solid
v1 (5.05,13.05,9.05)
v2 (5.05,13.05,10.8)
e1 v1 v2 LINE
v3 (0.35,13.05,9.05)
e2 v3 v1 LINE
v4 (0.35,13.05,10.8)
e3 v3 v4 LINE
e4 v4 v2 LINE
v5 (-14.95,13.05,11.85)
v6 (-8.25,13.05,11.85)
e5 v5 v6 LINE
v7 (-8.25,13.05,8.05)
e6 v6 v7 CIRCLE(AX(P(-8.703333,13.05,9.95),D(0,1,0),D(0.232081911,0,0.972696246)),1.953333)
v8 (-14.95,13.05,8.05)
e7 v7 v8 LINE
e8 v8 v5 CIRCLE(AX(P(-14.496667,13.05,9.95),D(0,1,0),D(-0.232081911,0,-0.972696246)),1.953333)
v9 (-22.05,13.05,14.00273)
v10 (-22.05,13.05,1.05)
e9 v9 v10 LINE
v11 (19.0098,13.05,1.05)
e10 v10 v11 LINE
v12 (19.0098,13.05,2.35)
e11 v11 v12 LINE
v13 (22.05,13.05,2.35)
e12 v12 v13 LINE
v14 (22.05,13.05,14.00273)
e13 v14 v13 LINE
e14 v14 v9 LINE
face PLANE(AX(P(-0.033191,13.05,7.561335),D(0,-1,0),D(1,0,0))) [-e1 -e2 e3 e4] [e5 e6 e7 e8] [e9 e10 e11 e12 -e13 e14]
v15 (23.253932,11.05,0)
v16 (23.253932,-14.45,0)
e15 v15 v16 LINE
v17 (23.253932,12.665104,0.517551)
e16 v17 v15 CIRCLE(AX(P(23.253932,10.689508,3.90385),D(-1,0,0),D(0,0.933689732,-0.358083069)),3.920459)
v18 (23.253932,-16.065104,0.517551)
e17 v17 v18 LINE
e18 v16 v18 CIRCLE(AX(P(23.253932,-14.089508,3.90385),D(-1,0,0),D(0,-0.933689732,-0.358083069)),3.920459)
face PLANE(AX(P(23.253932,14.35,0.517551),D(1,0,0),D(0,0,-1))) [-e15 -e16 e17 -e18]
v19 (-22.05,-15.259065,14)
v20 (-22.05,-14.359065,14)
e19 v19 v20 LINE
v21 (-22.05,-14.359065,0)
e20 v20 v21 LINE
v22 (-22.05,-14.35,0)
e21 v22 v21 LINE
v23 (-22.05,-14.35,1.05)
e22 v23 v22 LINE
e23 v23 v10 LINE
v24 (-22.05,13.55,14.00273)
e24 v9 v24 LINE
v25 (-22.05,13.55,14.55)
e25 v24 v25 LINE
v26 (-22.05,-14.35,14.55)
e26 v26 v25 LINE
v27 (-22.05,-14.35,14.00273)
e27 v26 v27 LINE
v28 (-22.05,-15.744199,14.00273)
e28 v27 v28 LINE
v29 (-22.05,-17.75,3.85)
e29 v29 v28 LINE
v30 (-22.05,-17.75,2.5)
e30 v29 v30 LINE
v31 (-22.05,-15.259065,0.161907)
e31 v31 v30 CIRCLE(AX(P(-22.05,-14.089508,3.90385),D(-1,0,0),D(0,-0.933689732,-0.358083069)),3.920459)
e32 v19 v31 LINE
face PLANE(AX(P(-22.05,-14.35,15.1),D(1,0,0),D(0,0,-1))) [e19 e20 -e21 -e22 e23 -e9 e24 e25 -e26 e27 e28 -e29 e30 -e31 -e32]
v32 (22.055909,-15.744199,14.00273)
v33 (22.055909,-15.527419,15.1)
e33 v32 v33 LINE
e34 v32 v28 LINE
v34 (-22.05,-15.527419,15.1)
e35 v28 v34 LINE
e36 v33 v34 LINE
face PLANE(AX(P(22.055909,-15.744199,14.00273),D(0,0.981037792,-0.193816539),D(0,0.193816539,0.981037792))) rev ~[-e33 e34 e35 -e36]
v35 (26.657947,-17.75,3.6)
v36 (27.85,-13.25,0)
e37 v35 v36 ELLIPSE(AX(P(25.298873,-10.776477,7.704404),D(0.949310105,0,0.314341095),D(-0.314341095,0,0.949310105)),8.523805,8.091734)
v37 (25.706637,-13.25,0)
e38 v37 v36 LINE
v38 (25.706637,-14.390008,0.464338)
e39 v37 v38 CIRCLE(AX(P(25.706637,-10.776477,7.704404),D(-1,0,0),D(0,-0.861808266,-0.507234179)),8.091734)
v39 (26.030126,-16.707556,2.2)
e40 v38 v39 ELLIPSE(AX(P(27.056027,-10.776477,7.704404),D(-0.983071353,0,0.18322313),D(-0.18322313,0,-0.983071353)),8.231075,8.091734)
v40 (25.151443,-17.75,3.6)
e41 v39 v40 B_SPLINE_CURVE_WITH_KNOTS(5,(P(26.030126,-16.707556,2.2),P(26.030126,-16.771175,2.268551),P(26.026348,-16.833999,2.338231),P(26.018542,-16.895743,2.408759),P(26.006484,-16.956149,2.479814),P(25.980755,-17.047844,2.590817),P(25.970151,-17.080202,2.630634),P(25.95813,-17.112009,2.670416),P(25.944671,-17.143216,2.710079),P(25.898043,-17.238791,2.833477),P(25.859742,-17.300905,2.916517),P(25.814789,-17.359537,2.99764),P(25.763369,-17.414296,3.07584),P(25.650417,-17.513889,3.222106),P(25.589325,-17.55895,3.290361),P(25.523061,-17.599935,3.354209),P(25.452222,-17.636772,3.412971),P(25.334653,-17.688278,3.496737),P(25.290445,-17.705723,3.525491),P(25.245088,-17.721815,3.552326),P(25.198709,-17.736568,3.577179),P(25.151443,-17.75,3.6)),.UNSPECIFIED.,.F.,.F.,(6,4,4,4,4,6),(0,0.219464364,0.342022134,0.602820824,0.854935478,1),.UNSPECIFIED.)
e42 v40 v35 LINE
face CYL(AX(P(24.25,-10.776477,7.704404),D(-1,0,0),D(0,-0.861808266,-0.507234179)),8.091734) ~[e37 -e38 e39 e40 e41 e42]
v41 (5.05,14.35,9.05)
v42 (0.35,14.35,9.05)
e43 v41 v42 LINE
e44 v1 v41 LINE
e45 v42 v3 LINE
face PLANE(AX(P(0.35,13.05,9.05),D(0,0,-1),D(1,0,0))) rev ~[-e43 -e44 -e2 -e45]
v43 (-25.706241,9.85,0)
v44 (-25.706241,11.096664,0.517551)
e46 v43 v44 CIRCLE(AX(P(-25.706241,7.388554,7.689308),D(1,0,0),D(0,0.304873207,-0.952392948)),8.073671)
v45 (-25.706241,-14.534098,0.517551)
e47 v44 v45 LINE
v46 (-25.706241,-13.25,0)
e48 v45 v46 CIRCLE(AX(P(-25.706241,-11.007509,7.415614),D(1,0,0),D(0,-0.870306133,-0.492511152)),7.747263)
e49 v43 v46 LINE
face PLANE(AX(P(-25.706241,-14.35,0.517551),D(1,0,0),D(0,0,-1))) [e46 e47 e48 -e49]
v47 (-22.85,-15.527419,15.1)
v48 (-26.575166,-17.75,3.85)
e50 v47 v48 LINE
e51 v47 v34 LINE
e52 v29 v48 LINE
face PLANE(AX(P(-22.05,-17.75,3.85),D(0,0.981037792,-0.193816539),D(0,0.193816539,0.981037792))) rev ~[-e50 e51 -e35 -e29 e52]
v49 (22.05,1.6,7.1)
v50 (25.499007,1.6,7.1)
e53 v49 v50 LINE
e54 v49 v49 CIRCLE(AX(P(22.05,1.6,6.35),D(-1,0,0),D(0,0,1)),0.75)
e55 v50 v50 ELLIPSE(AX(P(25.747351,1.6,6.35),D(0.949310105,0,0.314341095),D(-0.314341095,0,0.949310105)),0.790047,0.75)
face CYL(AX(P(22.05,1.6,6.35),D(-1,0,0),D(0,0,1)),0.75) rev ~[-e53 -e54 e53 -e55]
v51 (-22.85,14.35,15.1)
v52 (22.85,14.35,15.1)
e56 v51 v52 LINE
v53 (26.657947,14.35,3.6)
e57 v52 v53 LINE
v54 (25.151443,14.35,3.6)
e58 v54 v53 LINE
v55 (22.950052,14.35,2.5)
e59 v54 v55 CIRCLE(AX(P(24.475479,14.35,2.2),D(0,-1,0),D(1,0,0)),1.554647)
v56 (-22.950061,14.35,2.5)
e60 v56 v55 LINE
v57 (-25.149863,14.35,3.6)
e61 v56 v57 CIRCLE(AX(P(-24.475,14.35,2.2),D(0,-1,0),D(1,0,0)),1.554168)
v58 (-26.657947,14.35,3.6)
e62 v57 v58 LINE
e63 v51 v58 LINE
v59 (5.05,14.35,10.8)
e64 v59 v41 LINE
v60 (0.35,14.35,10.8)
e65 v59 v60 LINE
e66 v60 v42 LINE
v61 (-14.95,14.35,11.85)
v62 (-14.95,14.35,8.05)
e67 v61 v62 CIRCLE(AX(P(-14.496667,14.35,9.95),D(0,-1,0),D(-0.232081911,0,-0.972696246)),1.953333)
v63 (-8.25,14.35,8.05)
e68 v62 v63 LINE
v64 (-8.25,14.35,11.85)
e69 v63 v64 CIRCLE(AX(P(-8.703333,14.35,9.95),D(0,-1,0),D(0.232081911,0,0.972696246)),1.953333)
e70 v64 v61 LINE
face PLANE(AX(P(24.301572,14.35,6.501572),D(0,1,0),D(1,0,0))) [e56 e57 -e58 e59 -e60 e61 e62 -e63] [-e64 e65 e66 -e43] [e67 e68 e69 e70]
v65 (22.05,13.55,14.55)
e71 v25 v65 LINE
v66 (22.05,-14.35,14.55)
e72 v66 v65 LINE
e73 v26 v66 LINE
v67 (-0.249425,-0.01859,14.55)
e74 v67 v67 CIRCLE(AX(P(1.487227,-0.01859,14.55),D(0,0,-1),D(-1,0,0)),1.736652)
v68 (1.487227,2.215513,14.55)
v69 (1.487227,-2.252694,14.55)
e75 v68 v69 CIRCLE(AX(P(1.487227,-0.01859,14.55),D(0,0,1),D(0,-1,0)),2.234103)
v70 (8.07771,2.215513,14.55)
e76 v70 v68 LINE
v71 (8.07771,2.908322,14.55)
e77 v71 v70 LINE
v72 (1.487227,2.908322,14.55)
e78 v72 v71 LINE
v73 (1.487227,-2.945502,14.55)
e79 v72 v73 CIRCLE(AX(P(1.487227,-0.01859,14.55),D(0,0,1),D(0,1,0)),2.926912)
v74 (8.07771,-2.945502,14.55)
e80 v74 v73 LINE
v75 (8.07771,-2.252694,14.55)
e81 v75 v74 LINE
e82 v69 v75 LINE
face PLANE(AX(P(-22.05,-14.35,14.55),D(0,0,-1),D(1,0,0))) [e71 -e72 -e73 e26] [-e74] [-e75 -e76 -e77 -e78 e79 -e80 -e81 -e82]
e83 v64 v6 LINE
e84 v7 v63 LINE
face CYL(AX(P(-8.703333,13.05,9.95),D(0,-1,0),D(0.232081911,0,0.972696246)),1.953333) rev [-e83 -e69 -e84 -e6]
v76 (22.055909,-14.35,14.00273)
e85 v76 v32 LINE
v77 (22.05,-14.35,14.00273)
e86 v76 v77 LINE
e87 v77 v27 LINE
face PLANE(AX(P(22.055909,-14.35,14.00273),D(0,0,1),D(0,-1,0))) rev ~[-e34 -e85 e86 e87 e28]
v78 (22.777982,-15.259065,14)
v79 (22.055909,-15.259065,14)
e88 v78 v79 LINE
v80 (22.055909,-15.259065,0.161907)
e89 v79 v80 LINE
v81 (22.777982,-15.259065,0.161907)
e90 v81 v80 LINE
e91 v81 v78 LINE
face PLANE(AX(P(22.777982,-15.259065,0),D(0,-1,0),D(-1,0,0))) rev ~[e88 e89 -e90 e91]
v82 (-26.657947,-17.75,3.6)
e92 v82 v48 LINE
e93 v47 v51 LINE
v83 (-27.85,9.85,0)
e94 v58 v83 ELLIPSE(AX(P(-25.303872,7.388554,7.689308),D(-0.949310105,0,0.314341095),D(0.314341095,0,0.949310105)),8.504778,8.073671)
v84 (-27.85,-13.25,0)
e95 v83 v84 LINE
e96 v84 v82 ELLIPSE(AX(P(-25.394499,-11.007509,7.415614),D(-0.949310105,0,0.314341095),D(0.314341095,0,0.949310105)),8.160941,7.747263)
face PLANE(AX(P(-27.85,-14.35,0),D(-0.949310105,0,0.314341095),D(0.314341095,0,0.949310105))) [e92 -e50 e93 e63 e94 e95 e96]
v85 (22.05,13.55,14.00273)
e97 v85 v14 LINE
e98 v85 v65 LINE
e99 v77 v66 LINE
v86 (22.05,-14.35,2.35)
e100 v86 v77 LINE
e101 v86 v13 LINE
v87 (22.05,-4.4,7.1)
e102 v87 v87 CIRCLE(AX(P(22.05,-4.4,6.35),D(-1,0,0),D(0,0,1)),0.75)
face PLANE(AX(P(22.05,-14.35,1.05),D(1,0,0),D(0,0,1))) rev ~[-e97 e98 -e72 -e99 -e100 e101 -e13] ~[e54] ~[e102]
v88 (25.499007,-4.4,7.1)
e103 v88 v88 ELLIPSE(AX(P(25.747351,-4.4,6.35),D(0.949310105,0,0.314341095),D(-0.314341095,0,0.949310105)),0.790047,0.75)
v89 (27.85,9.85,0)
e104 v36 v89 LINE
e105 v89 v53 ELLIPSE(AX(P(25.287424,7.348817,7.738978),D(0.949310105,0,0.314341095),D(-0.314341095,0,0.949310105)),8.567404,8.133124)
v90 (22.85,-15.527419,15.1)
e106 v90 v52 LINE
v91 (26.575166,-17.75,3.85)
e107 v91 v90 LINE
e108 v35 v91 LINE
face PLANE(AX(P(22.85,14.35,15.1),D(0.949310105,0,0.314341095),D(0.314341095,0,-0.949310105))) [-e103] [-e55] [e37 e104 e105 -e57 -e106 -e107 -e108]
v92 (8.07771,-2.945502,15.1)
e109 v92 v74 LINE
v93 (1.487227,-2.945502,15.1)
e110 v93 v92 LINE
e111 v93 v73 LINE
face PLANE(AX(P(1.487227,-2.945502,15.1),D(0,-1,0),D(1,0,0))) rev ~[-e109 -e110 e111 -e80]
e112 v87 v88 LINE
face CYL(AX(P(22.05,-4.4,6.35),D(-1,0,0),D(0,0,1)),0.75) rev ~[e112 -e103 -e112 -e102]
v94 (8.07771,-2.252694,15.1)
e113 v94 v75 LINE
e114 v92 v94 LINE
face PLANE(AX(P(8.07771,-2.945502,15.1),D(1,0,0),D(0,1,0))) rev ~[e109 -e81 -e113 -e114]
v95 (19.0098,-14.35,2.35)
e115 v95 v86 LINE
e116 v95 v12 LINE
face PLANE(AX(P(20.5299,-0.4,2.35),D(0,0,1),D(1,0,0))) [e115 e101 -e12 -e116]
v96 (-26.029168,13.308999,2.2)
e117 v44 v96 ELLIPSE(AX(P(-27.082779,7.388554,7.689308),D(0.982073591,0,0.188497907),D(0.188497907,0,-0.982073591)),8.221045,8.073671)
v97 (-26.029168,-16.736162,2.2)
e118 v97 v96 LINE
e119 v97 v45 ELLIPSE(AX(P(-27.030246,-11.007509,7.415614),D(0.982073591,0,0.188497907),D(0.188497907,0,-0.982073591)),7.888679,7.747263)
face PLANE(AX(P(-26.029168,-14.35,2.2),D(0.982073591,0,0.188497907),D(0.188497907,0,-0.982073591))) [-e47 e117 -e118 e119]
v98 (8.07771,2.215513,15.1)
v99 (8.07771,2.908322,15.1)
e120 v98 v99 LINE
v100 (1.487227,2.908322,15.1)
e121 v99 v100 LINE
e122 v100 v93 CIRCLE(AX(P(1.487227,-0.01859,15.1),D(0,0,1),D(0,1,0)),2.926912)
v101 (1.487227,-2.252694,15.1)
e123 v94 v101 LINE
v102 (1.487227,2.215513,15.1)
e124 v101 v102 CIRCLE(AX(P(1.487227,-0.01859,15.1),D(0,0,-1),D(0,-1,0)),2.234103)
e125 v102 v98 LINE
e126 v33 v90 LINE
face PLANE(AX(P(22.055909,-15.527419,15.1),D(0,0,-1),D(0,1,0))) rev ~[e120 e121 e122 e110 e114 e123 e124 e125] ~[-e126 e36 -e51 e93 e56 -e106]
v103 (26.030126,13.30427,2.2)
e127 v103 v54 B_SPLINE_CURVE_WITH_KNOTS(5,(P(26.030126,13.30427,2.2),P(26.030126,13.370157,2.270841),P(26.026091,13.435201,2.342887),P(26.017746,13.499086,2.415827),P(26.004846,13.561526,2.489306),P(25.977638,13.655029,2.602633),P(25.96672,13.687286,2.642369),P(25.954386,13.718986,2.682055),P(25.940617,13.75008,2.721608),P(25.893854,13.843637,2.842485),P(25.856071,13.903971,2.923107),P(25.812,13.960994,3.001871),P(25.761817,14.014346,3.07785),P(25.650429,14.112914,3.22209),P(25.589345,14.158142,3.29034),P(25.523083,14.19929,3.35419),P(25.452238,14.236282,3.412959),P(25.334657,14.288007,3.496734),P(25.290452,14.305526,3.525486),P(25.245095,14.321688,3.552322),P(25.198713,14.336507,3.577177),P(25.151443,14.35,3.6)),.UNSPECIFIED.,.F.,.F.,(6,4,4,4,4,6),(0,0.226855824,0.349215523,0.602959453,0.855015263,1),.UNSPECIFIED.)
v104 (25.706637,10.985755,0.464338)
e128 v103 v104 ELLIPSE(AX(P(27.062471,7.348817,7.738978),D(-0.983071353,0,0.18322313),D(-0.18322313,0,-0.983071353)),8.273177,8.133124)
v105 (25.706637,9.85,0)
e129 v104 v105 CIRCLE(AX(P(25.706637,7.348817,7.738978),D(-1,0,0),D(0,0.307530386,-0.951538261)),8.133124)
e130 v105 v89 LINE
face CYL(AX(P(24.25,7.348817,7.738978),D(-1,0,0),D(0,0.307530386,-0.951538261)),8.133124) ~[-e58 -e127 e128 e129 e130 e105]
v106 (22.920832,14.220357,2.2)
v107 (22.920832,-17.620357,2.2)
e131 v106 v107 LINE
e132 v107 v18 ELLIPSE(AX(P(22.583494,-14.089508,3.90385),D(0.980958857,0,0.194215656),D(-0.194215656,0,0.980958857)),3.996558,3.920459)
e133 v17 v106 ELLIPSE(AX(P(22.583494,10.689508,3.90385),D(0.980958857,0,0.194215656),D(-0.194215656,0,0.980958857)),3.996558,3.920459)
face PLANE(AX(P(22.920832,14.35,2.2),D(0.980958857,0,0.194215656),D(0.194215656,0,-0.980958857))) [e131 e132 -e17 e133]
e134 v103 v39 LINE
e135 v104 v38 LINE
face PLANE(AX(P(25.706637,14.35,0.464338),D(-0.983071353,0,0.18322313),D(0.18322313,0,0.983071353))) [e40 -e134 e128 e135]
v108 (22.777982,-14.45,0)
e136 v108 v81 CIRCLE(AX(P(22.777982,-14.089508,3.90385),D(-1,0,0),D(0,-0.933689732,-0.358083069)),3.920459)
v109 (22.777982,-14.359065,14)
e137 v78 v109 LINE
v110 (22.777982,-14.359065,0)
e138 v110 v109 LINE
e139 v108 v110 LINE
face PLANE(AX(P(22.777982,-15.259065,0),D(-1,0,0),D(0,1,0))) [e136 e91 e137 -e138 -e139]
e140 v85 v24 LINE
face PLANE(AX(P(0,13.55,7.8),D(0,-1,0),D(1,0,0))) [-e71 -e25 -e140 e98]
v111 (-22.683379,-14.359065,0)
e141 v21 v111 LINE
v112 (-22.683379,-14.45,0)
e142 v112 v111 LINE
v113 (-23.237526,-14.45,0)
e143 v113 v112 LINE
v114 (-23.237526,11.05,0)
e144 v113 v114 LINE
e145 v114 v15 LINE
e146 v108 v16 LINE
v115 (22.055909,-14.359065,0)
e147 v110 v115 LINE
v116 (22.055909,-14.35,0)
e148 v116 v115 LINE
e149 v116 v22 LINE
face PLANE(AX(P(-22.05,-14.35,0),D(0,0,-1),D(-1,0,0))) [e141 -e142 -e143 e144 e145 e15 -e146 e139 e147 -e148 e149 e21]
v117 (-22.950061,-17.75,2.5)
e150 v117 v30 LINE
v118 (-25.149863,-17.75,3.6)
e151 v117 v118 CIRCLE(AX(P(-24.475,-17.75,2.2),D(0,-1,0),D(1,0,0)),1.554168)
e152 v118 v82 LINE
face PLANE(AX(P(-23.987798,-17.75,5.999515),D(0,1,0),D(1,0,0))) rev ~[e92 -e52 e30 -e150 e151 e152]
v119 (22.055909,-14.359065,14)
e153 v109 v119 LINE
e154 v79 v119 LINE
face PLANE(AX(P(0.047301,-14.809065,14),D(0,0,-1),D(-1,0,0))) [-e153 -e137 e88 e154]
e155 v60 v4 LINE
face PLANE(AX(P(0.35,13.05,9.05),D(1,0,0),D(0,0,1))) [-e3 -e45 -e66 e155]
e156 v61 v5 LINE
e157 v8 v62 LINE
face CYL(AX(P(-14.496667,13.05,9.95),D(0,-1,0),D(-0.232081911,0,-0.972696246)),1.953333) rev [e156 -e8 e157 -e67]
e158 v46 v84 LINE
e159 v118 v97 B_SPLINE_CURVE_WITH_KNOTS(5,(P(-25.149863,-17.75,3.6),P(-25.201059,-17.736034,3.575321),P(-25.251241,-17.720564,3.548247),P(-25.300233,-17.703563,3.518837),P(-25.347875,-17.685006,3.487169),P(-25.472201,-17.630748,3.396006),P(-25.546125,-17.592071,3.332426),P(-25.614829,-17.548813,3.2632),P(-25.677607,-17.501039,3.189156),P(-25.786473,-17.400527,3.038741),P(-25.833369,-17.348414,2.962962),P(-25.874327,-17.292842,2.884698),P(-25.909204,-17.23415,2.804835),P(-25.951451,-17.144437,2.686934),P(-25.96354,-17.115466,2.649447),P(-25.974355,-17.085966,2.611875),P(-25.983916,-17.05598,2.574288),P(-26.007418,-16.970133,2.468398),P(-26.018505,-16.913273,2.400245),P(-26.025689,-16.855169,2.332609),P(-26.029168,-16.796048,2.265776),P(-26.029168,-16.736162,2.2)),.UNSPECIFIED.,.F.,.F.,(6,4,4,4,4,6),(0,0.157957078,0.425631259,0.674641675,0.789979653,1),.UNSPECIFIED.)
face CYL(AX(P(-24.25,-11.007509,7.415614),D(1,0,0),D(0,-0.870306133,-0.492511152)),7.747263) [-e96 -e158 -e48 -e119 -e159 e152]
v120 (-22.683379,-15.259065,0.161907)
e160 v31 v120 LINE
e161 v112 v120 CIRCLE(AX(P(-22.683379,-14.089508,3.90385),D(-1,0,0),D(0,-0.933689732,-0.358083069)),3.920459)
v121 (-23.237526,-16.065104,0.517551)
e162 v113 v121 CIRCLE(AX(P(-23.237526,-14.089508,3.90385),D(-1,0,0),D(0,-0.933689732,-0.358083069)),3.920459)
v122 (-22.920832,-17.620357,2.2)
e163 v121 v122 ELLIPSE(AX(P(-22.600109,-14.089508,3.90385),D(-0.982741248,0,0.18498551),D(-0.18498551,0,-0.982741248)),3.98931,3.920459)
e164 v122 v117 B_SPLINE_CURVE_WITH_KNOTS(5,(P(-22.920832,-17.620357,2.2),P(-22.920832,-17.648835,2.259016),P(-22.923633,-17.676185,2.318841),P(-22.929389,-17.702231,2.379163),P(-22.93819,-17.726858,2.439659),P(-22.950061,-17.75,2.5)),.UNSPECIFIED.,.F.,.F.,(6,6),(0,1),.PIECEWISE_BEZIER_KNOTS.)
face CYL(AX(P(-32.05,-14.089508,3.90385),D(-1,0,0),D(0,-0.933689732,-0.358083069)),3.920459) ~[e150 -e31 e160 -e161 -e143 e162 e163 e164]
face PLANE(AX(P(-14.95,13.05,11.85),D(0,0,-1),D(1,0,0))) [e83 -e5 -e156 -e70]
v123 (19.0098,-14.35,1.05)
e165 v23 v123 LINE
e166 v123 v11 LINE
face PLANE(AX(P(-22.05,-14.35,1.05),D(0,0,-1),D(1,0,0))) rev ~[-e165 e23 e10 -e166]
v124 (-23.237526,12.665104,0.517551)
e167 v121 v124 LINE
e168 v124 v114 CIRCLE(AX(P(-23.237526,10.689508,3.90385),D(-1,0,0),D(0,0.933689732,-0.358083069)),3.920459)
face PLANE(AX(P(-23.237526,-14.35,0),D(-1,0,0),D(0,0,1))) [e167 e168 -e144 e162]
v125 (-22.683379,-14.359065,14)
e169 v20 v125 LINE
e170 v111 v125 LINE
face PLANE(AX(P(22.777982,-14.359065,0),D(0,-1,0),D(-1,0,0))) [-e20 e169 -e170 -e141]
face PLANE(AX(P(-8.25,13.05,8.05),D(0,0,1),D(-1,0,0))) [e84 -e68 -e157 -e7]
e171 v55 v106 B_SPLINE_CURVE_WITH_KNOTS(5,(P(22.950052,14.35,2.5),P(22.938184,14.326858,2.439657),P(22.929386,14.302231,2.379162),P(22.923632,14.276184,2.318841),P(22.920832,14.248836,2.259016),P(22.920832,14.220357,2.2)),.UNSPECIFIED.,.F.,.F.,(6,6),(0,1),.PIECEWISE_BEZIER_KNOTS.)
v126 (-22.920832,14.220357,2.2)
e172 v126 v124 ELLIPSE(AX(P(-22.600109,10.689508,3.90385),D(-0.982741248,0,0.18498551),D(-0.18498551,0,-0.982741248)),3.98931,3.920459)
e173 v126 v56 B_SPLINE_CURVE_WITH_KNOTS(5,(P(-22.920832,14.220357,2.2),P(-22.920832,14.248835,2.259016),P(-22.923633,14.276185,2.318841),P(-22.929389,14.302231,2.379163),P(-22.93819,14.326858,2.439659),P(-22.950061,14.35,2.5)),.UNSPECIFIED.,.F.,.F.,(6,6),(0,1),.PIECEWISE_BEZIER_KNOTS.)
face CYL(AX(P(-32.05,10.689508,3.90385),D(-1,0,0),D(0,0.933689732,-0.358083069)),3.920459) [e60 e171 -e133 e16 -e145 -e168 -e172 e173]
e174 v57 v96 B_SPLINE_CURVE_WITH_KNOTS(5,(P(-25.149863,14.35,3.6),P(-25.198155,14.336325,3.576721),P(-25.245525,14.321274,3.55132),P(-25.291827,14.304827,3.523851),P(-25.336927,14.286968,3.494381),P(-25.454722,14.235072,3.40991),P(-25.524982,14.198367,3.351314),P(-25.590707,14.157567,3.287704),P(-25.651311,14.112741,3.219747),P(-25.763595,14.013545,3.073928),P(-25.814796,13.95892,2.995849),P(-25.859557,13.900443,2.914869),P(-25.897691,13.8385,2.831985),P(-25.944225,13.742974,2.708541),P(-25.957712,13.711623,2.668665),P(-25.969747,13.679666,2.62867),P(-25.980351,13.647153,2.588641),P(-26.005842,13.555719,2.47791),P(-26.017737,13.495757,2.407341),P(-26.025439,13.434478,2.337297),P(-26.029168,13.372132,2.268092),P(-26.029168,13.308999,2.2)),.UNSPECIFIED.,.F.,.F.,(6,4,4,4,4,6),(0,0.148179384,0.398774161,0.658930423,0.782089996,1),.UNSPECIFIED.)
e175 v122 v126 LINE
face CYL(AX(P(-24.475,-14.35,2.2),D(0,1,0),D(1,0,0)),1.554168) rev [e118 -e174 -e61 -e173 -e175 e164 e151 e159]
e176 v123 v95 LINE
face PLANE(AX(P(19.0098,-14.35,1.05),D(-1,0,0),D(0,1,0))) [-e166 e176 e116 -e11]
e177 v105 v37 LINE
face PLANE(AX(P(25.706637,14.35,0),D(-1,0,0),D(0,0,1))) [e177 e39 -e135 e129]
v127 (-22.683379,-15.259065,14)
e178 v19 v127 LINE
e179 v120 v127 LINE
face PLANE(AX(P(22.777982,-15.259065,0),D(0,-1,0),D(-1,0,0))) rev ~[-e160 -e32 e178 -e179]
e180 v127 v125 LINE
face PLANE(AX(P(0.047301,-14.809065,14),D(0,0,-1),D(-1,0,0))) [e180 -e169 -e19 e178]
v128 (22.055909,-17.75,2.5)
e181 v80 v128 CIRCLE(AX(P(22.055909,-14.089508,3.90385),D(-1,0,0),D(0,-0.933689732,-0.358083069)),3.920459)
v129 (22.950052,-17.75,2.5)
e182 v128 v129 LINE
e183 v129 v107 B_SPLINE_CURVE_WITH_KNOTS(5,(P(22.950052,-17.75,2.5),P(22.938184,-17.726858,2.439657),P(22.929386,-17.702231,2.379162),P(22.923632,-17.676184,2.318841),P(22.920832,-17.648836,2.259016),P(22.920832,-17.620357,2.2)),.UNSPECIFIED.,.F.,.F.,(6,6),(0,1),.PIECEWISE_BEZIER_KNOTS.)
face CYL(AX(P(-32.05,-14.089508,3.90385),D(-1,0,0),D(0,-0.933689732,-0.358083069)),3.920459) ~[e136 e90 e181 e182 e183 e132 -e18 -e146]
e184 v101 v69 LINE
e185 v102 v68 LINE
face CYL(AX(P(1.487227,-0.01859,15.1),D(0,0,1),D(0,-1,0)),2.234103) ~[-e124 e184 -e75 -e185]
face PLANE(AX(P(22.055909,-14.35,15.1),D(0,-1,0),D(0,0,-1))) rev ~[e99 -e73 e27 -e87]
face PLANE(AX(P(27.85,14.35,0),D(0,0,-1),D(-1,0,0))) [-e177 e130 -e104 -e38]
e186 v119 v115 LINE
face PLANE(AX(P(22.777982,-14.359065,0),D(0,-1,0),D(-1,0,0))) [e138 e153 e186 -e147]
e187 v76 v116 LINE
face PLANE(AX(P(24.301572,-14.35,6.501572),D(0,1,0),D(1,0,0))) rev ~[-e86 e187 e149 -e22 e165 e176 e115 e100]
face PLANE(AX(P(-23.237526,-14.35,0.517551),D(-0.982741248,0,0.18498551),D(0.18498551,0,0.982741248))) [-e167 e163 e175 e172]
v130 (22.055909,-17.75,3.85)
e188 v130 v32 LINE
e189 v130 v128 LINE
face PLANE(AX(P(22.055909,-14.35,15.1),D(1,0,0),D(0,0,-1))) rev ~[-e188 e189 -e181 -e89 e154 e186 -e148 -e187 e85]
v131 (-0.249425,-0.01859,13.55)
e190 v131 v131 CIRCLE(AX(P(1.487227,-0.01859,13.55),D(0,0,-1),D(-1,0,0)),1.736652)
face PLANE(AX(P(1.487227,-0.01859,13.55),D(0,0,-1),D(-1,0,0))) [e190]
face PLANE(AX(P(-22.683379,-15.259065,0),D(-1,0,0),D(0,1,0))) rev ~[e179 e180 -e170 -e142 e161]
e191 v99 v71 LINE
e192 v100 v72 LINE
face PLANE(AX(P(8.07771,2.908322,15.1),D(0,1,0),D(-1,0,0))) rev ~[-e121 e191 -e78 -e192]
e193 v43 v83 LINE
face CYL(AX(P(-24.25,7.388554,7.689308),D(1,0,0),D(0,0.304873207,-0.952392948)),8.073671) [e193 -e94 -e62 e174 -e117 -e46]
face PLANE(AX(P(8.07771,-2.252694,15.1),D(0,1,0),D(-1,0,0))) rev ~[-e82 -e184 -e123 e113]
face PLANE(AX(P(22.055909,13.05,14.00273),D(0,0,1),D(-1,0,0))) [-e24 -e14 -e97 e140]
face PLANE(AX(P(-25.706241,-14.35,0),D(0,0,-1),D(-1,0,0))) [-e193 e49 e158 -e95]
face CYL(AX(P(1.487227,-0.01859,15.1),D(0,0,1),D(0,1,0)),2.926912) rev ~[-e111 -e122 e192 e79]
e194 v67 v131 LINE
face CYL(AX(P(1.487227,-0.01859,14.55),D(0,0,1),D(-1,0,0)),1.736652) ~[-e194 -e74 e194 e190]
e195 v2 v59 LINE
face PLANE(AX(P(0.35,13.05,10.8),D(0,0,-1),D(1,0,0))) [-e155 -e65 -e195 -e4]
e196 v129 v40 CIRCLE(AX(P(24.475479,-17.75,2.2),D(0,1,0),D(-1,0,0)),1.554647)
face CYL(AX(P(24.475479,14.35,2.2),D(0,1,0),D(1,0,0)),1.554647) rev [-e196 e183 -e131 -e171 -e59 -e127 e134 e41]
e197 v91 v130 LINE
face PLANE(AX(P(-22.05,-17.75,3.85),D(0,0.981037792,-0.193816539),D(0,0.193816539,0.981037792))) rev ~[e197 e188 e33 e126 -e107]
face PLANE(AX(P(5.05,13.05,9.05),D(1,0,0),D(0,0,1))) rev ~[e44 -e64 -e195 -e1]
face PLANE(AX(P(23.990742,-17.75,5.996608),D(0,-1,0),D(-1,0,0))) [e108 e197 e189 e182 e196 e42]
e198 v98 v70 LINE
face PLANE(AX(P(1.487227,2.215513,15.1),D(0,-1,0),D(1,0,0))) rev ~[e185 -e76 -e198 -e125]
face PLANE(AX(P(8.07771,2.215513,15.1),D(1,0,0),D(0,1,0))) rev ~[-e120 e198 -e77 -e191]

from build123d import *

# Parameters (mm, degrees)
ESQUISSE1_W              = 45.7
ESQUISSE1_H              = 28.7
BOSS_EXTRU_1_DEPTH       = 15.1
ESQUISSE2_W              = 44.1
ESQUISSE2_H              = 13.5
ENL_V_MAT_EXTRU_1_DEPTH  = 27.9
ESQUISSE3_W              = 3.040200108
ESQUISSE3_H              = 27.9
BOSS_EXTRU_2_DEPTH       = 1.3
ENL_V_MAT_EXTRU_2_DEPTH  = 1.3
ESQUISSE5_R              = 1.73665182
BOSS_EXTRU_3_DEPTH       = 1
ESQUISSE6_W              = 4.7
ESQUISSE6_H              = 1.75
ENL_V_MAT_EXTRU_3_DEPTH  = 10.5
ENL_V_MAT_EXTRU_4_DEPTH  = 10.5
BOSS_EXTRU_5_DEPTH       = 28.7
ENL_V_MAT_EXTRU_6_DEPTH  = 28.7
BOSS_EXTRU_7_DEPTH       = 3.4
ESQUISSE25_W             = 45.461360866
ESQUISSE25_H             = 0.9
ENL_V_MAT_EXTRU_14_DEPTH = 14
ENL_V_MAT_EXTRU_15_DEPTH = 57
BOSS_EXTRU_9_DEPTH       = 44.3
ESQUISSE32_R             = 0.75
ENL_V_MAT_EXTRU_17_DEPTH = 44.3
BOSS_EXTRU_10_START      = 0.5
ESQUISSE35_W             = 4.7
ESQUISSE35_H             = 1.75
BOSS_EXTRU_10_DEPTH      = 0.5
ENL_V_START              = -10
ENL_V_MAT_EXTRU_19_DEPTH = 74.3
ENL_V_START_2            = -2.2
ENL_V_MAT_EXTRU_20_DEPTH = 5
ENL_V_MAT_EXTRU_21_DEPTH = 5


with BuildPart() as part:
    # Esquisse1 → Boss.-Extru.1 (new body)
    with BuildSketch(Plane.XY):
        Rectangle(ESQUISSE1_W, ESQUISSE1_H)
    extrude(amount=BOSS_EXTRU_1_DEPTH)

    # Esquisse2 → Enlèv. mat.-Extru.1 (cut)
    with BuildSketch(Plane.XZ.offset(14.35)):
        with Locations((0, 7.8)):
            Rectangle(ESQUISSE2_W, ESQUISSE2_H)
    extrude(amount=-ENL_V_MAT_EXTRU_1_DEPTH, mode=Mode.SUBTRACT)

    # Esquisse3 → Boss.-Extru.2 (add)
    with BuildSketch(Plane.XY.offset(1.05)):
        with Locations((20.529899946, -0.4)):
            Rectangle(ESQUISSE3_W, ESQUISSE3_H)
    extrude(amount=BOSS_EXTRU_2_DEPTH)

    # Esquisse4 → Enlèv. mat.-Extru.2 (cut)
    with BuildSketch(Plane.XY.offset(15.1)):
        with BuildLine():
            Line((1.487226604, 2.215512883), (8.077709912, 2.215512883))
            Line((8.077709912, 2.215512883), (8.077709912, 2.908321808))
            Line((8.077709912, 2.908321808), (1.487226604, 2.908321808))
            ThreePointArc((1.487226604, 2.908321808), (-1.439685537, -0.018590333), (1.487226604, -2.945502474))
            Line((1.487226604, -2.945502474), (8.077709912, -2.945502474))
            Line((8.077709912, -2.945502474), (8.077709912, -2.252693548))
            Line((8.077709912, -2.252693548), (1.487226604, -2.252693548))
            ThreePointArc((1.487226604, -2.252693548), (-0.746876612, -0.018590333), (1.487226604, 2.215512883))
        make_face()
    extrude(amount=-ENL_V_MAT_EXTRU_2_DEPTH, mode=Mode.SUBTRACT)

    # Esquisse5 → Boss.-Extru.3 (add)
    with BuildSketch(Plane(origin=(0, 0, 14.55), x_dir=(-1, 0, 0), z_dir=(0, 0, -1))):
        with Locations((-1.487226604, -0.018590333)):
            Circle(ESQUISSE5_R)
    extrude(amount=BOSS_EXTRU_3_DEPTH)

    # Esquisse6 → Enlèv. mat.-Extru.3 (cut)
    with BuildSketch(Plane.XZ.offset(-13.55)):
        with Locations((2.7, 9.925)):
            Rectangle(ESQUISSE6_W, ESQUISSE6_H)
    extrude(amount=-ENL_V_MAT_EXTRU_3_DEPTH, mode=Mode.SUBTRACT)

    # Esquisse7 → Enlèv. mat.-Extru.4 (cut)
    with BuildSketch(Plane.XZ.offset(-13.55)):
        with BuildLine():
            Line((-14.95, 11.85), (-8.25, 11.85))
            ThreePointArc((-8.25, 11.85), (-6.75, 9.95), (-8.25, 8.05))
            Line((-8.25, 8.05), (-14.95, 8.05))
            ThreePointArc((-14.95, 8.05), (-16.45, 9.95), (-14.95, 11.85))
        make_face()
    extrude(amount=-ENL_V_MAT_EXTRU_4_DEPTH, mode=Mode.SUBTRACT)

    # Esquisse9 → Boss.-Extru.5 (add)
    with BuildSketch(Plane(origin=(0, 14.35, 0), x_dir=(1, 0, 0), z_dir=(0, 1, 0))):
        Polygon((22.85, 0), (22.85, -15.1), (27.85, 0), align=None)
        Polygon((-22.85, 0), (-22.85, -15.1), (-27.85, 0), align=None)
    extrude(amount=-BOSS_EXTRU_5_DEPTH)

    # Esquisse11 → Enlèv. mat.-Extru.6 (cut)
    with BuildSketch(Plane(origin=(0, 14.35, 0), x_dir=(1, 0, 0), z_dir=(0, 1, 0))):
        with BuildLine():
            Line((-25.706241432, 0), (-23.237525969, 0))
            Line((-23.237525969, 0), (-23.237525969, -0.517551291))
            Line((-23.237525969, -0.517551291), (-22.920831586, -2.2))
            ThreePointArc((-22.920831586, -2.2), (-24.475, -3.754168414), (-26.029168414, -2.2))
            Line((-26.029168414, -2.2), (-25.706241432, -0.517551291))
            Line((-25.706241432, -0.517551291), (-25.706241432, 0))
        make_face()
        with BuildLine():
            Line((23.253932079, 0), (25.706636502, 0))
            Line((25.706636502, 0), (25.706636502, -0.464338322))
            Line((25.706636502, -0.464338322), (26.030126108, -2.2))
            ThreePointArc((26.030126108, -2.2), (24.475478847, -3.754647261), (22.920831586, -2.2))
            Line((22.920831586, -2.2), (23.253932079, -0.517551291))
            Line((23.253932079, -0.517551291), (23.253932079, 0))
        make_face()
    extrude(amount=-ENL_V_MAT_EXTRU_6_DEPTH, mode=Mode.SUBTRACT)

    # Esquisse17 → Boss.-Extru.7 (add)
    with BuildSketch(Plane(origin=(0, -14.35, 0), x_dir=(-1, 0, 0), z_dir=(0, -1, 0))):
        with BuildLine():
            Line((27.85, 0), (22.85, -15.1))
            Line((22.85, -15.1), (22.05, -15.1))
            Line((22.05, -15.1), (22.05, -1.05))
            Line((22.05, -1.05), (22.05, 0))
            Line((22.05, 0), (23.237525969, 0))
            Line((23.237525969, 0), (23.237525969, -0.517551291))
            Line((23.237525969, -0.517551291), (22.920831586, -2.2))
            ThreePointArc((22.920831586, -2.2), (24.475, -3.754168414), (26.029168414, -2.2))
            Line((26.029168414, -2.2), (25.706241432, -0.517551291))
            Line((25.706241432, -0.517551291), (25.706241432, 0))
            Line((25.706241432, 0), (27.85, 0))
        make_face()
        with BuildLine():
            Line((-27.85, 0), (-22.85, -15.1))
            Line((-22.85, -15.1), (-22.055908753, -15.1))
            Line((-22.055908753, -15.1), (-22.055908753, 0))
            Line((-22.055908753, 0), (-23.253932079, 0))
            Line((-23.253932079, 0), (-23.253932079, -0.517551291))
            Line((-23.253932079, -0.517551291), (-22.920831586, -2.2))
            ThreePointArc((-22.920831586, -2.2), (-24.475478847, -3.754647261), (-26.030126108, -2.2))
            Line((-26.030126108, -2.2), (-25.706636502, -0.464338322))
            Line((-25.706636502, -0.464338322), (-25.706636502, 0))
            Line((-25.706636502, 0), (-27.85, 0))
        make_face()
    extrude(amount=BOSS_EXTRU_7_DEPTH)

    # Esquisse25 → Enlèv. mat.-Extru.14 (cut)
    with BuildSketch(Plane(origin=(0, 0, 0), x_dir=(-1, 0, 0), z_dir=(0, 0, -1))):
        with Locations((-0.047301347, -14.809065101)):
            Rectangle(ESQUISSE25_W, ESQUISSE25_H)
    extrude(amount=-ENL_V_MAT_EXTRU_14_DEPTH, mode=Mode.SUBTRACT)

    # Esquisse26 → Enlèv. mat.-Extru.15 (cut, symmetric)
    with BuildSketch(Plane(origin=(-22.05, 0, 0), x_dir=(0, 0, -1), z_dir=(1, 0, 0))):
        Polygon((-3.85, -17.75), (-15.1, -15.527418892), (-15.1, -17.75), align=None)
    extrude(amount=ENL_V_MAT_EXTRU_15_DEPTH, both=True, mode=Mode.SUBTRACT)

    # Esquisse31 → Boss.-Extru.9 (add)
    with BuildSketch(Plane.ZY.offset(-22.055908753)):
        Polygon((14.002730008, -14.35), (14.002730008, -15.744198586), (15.1, -15.527418892), (15.1, -14.35), align=None)
    extrude(amount=BOSS_EXTRU_9_DEPTH)

    # Esquisse32 → Enlèv. mat.-Extru.17 (cut)
    with BuildSketch(Plane.ZY.offset(-22.05)):
        with Locations((6.35, 1.6)):
            Circle(ESQUISSE32_R)
        with Locations((6.35, -4.4)):
            Circle(ESQUISSE32_R)
    extrude(amount=-ENL_V_MAT_EXTRU_17_DEPTH, mode=Mode.SUBTRACT)

    # Esquisse35 → Boss.-Extru.10 (add)
    with BuildSketch(Plane.XZ.offset(-13.55).offset(BOSS_EXTRU_10_START)):
        Polygon((-22.05, 14.002730008), (-22.05, 1.05), (19.009799892, 1.05), (19.009799892, 2.35), (22.05, 2.35), (22.055908753, 14.002730008), align=None)
        with Locations((2.7, 9.925)):
            Rectangle(ESQUISSE35_W, ESQUISSE35_H, mode=Mode.SUBTRACT)
        with BuildLine():
            Line((-14.95, 11.85), (-8.25, 11.85))
            ThreePointArc((-8.25, 11.85), (-6.75, 9.95), (-8.25, 8.05))
            Line((-8.25, 8.05), (-14.95, 8.05))
            ThreePointArc((-14.95, 8.05), (-16.45, 9.95), (-14.95, 11.85))
        make_face(mode=Mode.SUBTRACT)
    extrude(amount=-BOSS_EXTRU_10_DEPTH)

    # Esquisse34 → Enlèv. mat.-Extru.19 (cut)
    with BuildSketch(Plane(origin=(-22.05, 0, 0), x_dir=(0, 0, -1), z_dir=(1, 0, 0)).offset(ENL_V_START)):
        with BuildLine():
            Line((0, 11.05), (2.149848575, 13.466695377))
            Line((2.149848575, 13.466695377), (2.704974512, 17.199769042))
            Line((2.704974512, 17.199769042), (-2.5, 14.35))
            ThreePointArc((-2.5, 14.35), (-0.778882836, 13.056906943), (0, 11.05))
        make_face()
        with BuildLine():
            Line((0, -14.45), (2.615471919, -12.438405433))
            Line((2.615471919, -12.438405433), (4.64721223, -16.898892781))
            Line((4.64721223, -16.898892781), (-1.312082168, -20.336026793))
            Line((-1.312082168, -20.336026793), (-2.5, -17.75))
            ThreePointArc((-2.5, -17.75), (-0.778882836, -16.456906943), (0, -14.45))
        make_face()
    extrude(amount=ENL_V_MAT_EXTRU_19_DEPTH, mode=Mode.SUBTRACT)

    # Esquisse36 → Enlèv. mat.-Extru.20 (cut)
    with BuildSketch(Plane(origin=(-22.05, 0, 0), x_dir=(0, 0, -1), z_dir=(1, 0, 0)).offset(ENL_V_START_2)):
        with BuildLine():
            Line((-3.6, 14.35), (0.233137936, 16.139667024))
            Line((0.233137936, 16.139667024), (1.281634534, 9.28497369))
            Line((1.281634534, 9.28497369), (0, 9.85))
            ThreePointArc((0, 9.85), (-1.384829505, 12.432136396), (-3.6, 14.35))
        make_face()
        with BuildLine():
            Line((0, -13.25), (2.408593259, -12.125443566))
            Line((2.408593259, -12.125443566), (1.20429663, -19.634076372))
            Line((1.20429663, -19.634076372), (-3.6, -17.75))
            ThreePointArc((-3.6, -17.75), (-1.366017246, -15.847186204), (0, -13.25))
        make_face()
    extrude(amount=-ENL_V_MAT_EXTRU_20_DEPTH, mode=Mode.SUBTRACT)

    # Esquisse37 → Enlèv. mat.-Extru.21 (cut)
    with BuildSketch(Plane.ZY.offset(-22.05).offset(ENL_V_START_2)):
        with BuildLine():
            Line((3.6, -19.426253986), (3.6, -17.75))
            ThreePointArc((3.6, -17.75), (1.385821361, -15.831342911), (0, -13.25))
            Line((0, -13.25), (-1.954897573, -12.307105099))
            Line((-1.954897573, -12.307105099), (-2.275009075, -21.310589074))
            Line((-2.275009075, -21.310589074), (3.6, -19.426253986))
        make_face()
        with BuildLine():
            Line((3.6, 14.35), (1.25201602, 16.69798398))
            Line((1.25201602, 16.69798398), (-2.772630017, 8.353712777))
            Line((-2.772630017, 8.353712777), (0, 9.85))
            ThreePointArc((0, 9.85), (1.388075747, 12.429539402), (3.6, 14.35))
        make_face()
    extrude(amount=-ENL_V_MAT_EXTRU_21_DEPTH, mode=Mode.SUBTRACT)


solid = part.part
